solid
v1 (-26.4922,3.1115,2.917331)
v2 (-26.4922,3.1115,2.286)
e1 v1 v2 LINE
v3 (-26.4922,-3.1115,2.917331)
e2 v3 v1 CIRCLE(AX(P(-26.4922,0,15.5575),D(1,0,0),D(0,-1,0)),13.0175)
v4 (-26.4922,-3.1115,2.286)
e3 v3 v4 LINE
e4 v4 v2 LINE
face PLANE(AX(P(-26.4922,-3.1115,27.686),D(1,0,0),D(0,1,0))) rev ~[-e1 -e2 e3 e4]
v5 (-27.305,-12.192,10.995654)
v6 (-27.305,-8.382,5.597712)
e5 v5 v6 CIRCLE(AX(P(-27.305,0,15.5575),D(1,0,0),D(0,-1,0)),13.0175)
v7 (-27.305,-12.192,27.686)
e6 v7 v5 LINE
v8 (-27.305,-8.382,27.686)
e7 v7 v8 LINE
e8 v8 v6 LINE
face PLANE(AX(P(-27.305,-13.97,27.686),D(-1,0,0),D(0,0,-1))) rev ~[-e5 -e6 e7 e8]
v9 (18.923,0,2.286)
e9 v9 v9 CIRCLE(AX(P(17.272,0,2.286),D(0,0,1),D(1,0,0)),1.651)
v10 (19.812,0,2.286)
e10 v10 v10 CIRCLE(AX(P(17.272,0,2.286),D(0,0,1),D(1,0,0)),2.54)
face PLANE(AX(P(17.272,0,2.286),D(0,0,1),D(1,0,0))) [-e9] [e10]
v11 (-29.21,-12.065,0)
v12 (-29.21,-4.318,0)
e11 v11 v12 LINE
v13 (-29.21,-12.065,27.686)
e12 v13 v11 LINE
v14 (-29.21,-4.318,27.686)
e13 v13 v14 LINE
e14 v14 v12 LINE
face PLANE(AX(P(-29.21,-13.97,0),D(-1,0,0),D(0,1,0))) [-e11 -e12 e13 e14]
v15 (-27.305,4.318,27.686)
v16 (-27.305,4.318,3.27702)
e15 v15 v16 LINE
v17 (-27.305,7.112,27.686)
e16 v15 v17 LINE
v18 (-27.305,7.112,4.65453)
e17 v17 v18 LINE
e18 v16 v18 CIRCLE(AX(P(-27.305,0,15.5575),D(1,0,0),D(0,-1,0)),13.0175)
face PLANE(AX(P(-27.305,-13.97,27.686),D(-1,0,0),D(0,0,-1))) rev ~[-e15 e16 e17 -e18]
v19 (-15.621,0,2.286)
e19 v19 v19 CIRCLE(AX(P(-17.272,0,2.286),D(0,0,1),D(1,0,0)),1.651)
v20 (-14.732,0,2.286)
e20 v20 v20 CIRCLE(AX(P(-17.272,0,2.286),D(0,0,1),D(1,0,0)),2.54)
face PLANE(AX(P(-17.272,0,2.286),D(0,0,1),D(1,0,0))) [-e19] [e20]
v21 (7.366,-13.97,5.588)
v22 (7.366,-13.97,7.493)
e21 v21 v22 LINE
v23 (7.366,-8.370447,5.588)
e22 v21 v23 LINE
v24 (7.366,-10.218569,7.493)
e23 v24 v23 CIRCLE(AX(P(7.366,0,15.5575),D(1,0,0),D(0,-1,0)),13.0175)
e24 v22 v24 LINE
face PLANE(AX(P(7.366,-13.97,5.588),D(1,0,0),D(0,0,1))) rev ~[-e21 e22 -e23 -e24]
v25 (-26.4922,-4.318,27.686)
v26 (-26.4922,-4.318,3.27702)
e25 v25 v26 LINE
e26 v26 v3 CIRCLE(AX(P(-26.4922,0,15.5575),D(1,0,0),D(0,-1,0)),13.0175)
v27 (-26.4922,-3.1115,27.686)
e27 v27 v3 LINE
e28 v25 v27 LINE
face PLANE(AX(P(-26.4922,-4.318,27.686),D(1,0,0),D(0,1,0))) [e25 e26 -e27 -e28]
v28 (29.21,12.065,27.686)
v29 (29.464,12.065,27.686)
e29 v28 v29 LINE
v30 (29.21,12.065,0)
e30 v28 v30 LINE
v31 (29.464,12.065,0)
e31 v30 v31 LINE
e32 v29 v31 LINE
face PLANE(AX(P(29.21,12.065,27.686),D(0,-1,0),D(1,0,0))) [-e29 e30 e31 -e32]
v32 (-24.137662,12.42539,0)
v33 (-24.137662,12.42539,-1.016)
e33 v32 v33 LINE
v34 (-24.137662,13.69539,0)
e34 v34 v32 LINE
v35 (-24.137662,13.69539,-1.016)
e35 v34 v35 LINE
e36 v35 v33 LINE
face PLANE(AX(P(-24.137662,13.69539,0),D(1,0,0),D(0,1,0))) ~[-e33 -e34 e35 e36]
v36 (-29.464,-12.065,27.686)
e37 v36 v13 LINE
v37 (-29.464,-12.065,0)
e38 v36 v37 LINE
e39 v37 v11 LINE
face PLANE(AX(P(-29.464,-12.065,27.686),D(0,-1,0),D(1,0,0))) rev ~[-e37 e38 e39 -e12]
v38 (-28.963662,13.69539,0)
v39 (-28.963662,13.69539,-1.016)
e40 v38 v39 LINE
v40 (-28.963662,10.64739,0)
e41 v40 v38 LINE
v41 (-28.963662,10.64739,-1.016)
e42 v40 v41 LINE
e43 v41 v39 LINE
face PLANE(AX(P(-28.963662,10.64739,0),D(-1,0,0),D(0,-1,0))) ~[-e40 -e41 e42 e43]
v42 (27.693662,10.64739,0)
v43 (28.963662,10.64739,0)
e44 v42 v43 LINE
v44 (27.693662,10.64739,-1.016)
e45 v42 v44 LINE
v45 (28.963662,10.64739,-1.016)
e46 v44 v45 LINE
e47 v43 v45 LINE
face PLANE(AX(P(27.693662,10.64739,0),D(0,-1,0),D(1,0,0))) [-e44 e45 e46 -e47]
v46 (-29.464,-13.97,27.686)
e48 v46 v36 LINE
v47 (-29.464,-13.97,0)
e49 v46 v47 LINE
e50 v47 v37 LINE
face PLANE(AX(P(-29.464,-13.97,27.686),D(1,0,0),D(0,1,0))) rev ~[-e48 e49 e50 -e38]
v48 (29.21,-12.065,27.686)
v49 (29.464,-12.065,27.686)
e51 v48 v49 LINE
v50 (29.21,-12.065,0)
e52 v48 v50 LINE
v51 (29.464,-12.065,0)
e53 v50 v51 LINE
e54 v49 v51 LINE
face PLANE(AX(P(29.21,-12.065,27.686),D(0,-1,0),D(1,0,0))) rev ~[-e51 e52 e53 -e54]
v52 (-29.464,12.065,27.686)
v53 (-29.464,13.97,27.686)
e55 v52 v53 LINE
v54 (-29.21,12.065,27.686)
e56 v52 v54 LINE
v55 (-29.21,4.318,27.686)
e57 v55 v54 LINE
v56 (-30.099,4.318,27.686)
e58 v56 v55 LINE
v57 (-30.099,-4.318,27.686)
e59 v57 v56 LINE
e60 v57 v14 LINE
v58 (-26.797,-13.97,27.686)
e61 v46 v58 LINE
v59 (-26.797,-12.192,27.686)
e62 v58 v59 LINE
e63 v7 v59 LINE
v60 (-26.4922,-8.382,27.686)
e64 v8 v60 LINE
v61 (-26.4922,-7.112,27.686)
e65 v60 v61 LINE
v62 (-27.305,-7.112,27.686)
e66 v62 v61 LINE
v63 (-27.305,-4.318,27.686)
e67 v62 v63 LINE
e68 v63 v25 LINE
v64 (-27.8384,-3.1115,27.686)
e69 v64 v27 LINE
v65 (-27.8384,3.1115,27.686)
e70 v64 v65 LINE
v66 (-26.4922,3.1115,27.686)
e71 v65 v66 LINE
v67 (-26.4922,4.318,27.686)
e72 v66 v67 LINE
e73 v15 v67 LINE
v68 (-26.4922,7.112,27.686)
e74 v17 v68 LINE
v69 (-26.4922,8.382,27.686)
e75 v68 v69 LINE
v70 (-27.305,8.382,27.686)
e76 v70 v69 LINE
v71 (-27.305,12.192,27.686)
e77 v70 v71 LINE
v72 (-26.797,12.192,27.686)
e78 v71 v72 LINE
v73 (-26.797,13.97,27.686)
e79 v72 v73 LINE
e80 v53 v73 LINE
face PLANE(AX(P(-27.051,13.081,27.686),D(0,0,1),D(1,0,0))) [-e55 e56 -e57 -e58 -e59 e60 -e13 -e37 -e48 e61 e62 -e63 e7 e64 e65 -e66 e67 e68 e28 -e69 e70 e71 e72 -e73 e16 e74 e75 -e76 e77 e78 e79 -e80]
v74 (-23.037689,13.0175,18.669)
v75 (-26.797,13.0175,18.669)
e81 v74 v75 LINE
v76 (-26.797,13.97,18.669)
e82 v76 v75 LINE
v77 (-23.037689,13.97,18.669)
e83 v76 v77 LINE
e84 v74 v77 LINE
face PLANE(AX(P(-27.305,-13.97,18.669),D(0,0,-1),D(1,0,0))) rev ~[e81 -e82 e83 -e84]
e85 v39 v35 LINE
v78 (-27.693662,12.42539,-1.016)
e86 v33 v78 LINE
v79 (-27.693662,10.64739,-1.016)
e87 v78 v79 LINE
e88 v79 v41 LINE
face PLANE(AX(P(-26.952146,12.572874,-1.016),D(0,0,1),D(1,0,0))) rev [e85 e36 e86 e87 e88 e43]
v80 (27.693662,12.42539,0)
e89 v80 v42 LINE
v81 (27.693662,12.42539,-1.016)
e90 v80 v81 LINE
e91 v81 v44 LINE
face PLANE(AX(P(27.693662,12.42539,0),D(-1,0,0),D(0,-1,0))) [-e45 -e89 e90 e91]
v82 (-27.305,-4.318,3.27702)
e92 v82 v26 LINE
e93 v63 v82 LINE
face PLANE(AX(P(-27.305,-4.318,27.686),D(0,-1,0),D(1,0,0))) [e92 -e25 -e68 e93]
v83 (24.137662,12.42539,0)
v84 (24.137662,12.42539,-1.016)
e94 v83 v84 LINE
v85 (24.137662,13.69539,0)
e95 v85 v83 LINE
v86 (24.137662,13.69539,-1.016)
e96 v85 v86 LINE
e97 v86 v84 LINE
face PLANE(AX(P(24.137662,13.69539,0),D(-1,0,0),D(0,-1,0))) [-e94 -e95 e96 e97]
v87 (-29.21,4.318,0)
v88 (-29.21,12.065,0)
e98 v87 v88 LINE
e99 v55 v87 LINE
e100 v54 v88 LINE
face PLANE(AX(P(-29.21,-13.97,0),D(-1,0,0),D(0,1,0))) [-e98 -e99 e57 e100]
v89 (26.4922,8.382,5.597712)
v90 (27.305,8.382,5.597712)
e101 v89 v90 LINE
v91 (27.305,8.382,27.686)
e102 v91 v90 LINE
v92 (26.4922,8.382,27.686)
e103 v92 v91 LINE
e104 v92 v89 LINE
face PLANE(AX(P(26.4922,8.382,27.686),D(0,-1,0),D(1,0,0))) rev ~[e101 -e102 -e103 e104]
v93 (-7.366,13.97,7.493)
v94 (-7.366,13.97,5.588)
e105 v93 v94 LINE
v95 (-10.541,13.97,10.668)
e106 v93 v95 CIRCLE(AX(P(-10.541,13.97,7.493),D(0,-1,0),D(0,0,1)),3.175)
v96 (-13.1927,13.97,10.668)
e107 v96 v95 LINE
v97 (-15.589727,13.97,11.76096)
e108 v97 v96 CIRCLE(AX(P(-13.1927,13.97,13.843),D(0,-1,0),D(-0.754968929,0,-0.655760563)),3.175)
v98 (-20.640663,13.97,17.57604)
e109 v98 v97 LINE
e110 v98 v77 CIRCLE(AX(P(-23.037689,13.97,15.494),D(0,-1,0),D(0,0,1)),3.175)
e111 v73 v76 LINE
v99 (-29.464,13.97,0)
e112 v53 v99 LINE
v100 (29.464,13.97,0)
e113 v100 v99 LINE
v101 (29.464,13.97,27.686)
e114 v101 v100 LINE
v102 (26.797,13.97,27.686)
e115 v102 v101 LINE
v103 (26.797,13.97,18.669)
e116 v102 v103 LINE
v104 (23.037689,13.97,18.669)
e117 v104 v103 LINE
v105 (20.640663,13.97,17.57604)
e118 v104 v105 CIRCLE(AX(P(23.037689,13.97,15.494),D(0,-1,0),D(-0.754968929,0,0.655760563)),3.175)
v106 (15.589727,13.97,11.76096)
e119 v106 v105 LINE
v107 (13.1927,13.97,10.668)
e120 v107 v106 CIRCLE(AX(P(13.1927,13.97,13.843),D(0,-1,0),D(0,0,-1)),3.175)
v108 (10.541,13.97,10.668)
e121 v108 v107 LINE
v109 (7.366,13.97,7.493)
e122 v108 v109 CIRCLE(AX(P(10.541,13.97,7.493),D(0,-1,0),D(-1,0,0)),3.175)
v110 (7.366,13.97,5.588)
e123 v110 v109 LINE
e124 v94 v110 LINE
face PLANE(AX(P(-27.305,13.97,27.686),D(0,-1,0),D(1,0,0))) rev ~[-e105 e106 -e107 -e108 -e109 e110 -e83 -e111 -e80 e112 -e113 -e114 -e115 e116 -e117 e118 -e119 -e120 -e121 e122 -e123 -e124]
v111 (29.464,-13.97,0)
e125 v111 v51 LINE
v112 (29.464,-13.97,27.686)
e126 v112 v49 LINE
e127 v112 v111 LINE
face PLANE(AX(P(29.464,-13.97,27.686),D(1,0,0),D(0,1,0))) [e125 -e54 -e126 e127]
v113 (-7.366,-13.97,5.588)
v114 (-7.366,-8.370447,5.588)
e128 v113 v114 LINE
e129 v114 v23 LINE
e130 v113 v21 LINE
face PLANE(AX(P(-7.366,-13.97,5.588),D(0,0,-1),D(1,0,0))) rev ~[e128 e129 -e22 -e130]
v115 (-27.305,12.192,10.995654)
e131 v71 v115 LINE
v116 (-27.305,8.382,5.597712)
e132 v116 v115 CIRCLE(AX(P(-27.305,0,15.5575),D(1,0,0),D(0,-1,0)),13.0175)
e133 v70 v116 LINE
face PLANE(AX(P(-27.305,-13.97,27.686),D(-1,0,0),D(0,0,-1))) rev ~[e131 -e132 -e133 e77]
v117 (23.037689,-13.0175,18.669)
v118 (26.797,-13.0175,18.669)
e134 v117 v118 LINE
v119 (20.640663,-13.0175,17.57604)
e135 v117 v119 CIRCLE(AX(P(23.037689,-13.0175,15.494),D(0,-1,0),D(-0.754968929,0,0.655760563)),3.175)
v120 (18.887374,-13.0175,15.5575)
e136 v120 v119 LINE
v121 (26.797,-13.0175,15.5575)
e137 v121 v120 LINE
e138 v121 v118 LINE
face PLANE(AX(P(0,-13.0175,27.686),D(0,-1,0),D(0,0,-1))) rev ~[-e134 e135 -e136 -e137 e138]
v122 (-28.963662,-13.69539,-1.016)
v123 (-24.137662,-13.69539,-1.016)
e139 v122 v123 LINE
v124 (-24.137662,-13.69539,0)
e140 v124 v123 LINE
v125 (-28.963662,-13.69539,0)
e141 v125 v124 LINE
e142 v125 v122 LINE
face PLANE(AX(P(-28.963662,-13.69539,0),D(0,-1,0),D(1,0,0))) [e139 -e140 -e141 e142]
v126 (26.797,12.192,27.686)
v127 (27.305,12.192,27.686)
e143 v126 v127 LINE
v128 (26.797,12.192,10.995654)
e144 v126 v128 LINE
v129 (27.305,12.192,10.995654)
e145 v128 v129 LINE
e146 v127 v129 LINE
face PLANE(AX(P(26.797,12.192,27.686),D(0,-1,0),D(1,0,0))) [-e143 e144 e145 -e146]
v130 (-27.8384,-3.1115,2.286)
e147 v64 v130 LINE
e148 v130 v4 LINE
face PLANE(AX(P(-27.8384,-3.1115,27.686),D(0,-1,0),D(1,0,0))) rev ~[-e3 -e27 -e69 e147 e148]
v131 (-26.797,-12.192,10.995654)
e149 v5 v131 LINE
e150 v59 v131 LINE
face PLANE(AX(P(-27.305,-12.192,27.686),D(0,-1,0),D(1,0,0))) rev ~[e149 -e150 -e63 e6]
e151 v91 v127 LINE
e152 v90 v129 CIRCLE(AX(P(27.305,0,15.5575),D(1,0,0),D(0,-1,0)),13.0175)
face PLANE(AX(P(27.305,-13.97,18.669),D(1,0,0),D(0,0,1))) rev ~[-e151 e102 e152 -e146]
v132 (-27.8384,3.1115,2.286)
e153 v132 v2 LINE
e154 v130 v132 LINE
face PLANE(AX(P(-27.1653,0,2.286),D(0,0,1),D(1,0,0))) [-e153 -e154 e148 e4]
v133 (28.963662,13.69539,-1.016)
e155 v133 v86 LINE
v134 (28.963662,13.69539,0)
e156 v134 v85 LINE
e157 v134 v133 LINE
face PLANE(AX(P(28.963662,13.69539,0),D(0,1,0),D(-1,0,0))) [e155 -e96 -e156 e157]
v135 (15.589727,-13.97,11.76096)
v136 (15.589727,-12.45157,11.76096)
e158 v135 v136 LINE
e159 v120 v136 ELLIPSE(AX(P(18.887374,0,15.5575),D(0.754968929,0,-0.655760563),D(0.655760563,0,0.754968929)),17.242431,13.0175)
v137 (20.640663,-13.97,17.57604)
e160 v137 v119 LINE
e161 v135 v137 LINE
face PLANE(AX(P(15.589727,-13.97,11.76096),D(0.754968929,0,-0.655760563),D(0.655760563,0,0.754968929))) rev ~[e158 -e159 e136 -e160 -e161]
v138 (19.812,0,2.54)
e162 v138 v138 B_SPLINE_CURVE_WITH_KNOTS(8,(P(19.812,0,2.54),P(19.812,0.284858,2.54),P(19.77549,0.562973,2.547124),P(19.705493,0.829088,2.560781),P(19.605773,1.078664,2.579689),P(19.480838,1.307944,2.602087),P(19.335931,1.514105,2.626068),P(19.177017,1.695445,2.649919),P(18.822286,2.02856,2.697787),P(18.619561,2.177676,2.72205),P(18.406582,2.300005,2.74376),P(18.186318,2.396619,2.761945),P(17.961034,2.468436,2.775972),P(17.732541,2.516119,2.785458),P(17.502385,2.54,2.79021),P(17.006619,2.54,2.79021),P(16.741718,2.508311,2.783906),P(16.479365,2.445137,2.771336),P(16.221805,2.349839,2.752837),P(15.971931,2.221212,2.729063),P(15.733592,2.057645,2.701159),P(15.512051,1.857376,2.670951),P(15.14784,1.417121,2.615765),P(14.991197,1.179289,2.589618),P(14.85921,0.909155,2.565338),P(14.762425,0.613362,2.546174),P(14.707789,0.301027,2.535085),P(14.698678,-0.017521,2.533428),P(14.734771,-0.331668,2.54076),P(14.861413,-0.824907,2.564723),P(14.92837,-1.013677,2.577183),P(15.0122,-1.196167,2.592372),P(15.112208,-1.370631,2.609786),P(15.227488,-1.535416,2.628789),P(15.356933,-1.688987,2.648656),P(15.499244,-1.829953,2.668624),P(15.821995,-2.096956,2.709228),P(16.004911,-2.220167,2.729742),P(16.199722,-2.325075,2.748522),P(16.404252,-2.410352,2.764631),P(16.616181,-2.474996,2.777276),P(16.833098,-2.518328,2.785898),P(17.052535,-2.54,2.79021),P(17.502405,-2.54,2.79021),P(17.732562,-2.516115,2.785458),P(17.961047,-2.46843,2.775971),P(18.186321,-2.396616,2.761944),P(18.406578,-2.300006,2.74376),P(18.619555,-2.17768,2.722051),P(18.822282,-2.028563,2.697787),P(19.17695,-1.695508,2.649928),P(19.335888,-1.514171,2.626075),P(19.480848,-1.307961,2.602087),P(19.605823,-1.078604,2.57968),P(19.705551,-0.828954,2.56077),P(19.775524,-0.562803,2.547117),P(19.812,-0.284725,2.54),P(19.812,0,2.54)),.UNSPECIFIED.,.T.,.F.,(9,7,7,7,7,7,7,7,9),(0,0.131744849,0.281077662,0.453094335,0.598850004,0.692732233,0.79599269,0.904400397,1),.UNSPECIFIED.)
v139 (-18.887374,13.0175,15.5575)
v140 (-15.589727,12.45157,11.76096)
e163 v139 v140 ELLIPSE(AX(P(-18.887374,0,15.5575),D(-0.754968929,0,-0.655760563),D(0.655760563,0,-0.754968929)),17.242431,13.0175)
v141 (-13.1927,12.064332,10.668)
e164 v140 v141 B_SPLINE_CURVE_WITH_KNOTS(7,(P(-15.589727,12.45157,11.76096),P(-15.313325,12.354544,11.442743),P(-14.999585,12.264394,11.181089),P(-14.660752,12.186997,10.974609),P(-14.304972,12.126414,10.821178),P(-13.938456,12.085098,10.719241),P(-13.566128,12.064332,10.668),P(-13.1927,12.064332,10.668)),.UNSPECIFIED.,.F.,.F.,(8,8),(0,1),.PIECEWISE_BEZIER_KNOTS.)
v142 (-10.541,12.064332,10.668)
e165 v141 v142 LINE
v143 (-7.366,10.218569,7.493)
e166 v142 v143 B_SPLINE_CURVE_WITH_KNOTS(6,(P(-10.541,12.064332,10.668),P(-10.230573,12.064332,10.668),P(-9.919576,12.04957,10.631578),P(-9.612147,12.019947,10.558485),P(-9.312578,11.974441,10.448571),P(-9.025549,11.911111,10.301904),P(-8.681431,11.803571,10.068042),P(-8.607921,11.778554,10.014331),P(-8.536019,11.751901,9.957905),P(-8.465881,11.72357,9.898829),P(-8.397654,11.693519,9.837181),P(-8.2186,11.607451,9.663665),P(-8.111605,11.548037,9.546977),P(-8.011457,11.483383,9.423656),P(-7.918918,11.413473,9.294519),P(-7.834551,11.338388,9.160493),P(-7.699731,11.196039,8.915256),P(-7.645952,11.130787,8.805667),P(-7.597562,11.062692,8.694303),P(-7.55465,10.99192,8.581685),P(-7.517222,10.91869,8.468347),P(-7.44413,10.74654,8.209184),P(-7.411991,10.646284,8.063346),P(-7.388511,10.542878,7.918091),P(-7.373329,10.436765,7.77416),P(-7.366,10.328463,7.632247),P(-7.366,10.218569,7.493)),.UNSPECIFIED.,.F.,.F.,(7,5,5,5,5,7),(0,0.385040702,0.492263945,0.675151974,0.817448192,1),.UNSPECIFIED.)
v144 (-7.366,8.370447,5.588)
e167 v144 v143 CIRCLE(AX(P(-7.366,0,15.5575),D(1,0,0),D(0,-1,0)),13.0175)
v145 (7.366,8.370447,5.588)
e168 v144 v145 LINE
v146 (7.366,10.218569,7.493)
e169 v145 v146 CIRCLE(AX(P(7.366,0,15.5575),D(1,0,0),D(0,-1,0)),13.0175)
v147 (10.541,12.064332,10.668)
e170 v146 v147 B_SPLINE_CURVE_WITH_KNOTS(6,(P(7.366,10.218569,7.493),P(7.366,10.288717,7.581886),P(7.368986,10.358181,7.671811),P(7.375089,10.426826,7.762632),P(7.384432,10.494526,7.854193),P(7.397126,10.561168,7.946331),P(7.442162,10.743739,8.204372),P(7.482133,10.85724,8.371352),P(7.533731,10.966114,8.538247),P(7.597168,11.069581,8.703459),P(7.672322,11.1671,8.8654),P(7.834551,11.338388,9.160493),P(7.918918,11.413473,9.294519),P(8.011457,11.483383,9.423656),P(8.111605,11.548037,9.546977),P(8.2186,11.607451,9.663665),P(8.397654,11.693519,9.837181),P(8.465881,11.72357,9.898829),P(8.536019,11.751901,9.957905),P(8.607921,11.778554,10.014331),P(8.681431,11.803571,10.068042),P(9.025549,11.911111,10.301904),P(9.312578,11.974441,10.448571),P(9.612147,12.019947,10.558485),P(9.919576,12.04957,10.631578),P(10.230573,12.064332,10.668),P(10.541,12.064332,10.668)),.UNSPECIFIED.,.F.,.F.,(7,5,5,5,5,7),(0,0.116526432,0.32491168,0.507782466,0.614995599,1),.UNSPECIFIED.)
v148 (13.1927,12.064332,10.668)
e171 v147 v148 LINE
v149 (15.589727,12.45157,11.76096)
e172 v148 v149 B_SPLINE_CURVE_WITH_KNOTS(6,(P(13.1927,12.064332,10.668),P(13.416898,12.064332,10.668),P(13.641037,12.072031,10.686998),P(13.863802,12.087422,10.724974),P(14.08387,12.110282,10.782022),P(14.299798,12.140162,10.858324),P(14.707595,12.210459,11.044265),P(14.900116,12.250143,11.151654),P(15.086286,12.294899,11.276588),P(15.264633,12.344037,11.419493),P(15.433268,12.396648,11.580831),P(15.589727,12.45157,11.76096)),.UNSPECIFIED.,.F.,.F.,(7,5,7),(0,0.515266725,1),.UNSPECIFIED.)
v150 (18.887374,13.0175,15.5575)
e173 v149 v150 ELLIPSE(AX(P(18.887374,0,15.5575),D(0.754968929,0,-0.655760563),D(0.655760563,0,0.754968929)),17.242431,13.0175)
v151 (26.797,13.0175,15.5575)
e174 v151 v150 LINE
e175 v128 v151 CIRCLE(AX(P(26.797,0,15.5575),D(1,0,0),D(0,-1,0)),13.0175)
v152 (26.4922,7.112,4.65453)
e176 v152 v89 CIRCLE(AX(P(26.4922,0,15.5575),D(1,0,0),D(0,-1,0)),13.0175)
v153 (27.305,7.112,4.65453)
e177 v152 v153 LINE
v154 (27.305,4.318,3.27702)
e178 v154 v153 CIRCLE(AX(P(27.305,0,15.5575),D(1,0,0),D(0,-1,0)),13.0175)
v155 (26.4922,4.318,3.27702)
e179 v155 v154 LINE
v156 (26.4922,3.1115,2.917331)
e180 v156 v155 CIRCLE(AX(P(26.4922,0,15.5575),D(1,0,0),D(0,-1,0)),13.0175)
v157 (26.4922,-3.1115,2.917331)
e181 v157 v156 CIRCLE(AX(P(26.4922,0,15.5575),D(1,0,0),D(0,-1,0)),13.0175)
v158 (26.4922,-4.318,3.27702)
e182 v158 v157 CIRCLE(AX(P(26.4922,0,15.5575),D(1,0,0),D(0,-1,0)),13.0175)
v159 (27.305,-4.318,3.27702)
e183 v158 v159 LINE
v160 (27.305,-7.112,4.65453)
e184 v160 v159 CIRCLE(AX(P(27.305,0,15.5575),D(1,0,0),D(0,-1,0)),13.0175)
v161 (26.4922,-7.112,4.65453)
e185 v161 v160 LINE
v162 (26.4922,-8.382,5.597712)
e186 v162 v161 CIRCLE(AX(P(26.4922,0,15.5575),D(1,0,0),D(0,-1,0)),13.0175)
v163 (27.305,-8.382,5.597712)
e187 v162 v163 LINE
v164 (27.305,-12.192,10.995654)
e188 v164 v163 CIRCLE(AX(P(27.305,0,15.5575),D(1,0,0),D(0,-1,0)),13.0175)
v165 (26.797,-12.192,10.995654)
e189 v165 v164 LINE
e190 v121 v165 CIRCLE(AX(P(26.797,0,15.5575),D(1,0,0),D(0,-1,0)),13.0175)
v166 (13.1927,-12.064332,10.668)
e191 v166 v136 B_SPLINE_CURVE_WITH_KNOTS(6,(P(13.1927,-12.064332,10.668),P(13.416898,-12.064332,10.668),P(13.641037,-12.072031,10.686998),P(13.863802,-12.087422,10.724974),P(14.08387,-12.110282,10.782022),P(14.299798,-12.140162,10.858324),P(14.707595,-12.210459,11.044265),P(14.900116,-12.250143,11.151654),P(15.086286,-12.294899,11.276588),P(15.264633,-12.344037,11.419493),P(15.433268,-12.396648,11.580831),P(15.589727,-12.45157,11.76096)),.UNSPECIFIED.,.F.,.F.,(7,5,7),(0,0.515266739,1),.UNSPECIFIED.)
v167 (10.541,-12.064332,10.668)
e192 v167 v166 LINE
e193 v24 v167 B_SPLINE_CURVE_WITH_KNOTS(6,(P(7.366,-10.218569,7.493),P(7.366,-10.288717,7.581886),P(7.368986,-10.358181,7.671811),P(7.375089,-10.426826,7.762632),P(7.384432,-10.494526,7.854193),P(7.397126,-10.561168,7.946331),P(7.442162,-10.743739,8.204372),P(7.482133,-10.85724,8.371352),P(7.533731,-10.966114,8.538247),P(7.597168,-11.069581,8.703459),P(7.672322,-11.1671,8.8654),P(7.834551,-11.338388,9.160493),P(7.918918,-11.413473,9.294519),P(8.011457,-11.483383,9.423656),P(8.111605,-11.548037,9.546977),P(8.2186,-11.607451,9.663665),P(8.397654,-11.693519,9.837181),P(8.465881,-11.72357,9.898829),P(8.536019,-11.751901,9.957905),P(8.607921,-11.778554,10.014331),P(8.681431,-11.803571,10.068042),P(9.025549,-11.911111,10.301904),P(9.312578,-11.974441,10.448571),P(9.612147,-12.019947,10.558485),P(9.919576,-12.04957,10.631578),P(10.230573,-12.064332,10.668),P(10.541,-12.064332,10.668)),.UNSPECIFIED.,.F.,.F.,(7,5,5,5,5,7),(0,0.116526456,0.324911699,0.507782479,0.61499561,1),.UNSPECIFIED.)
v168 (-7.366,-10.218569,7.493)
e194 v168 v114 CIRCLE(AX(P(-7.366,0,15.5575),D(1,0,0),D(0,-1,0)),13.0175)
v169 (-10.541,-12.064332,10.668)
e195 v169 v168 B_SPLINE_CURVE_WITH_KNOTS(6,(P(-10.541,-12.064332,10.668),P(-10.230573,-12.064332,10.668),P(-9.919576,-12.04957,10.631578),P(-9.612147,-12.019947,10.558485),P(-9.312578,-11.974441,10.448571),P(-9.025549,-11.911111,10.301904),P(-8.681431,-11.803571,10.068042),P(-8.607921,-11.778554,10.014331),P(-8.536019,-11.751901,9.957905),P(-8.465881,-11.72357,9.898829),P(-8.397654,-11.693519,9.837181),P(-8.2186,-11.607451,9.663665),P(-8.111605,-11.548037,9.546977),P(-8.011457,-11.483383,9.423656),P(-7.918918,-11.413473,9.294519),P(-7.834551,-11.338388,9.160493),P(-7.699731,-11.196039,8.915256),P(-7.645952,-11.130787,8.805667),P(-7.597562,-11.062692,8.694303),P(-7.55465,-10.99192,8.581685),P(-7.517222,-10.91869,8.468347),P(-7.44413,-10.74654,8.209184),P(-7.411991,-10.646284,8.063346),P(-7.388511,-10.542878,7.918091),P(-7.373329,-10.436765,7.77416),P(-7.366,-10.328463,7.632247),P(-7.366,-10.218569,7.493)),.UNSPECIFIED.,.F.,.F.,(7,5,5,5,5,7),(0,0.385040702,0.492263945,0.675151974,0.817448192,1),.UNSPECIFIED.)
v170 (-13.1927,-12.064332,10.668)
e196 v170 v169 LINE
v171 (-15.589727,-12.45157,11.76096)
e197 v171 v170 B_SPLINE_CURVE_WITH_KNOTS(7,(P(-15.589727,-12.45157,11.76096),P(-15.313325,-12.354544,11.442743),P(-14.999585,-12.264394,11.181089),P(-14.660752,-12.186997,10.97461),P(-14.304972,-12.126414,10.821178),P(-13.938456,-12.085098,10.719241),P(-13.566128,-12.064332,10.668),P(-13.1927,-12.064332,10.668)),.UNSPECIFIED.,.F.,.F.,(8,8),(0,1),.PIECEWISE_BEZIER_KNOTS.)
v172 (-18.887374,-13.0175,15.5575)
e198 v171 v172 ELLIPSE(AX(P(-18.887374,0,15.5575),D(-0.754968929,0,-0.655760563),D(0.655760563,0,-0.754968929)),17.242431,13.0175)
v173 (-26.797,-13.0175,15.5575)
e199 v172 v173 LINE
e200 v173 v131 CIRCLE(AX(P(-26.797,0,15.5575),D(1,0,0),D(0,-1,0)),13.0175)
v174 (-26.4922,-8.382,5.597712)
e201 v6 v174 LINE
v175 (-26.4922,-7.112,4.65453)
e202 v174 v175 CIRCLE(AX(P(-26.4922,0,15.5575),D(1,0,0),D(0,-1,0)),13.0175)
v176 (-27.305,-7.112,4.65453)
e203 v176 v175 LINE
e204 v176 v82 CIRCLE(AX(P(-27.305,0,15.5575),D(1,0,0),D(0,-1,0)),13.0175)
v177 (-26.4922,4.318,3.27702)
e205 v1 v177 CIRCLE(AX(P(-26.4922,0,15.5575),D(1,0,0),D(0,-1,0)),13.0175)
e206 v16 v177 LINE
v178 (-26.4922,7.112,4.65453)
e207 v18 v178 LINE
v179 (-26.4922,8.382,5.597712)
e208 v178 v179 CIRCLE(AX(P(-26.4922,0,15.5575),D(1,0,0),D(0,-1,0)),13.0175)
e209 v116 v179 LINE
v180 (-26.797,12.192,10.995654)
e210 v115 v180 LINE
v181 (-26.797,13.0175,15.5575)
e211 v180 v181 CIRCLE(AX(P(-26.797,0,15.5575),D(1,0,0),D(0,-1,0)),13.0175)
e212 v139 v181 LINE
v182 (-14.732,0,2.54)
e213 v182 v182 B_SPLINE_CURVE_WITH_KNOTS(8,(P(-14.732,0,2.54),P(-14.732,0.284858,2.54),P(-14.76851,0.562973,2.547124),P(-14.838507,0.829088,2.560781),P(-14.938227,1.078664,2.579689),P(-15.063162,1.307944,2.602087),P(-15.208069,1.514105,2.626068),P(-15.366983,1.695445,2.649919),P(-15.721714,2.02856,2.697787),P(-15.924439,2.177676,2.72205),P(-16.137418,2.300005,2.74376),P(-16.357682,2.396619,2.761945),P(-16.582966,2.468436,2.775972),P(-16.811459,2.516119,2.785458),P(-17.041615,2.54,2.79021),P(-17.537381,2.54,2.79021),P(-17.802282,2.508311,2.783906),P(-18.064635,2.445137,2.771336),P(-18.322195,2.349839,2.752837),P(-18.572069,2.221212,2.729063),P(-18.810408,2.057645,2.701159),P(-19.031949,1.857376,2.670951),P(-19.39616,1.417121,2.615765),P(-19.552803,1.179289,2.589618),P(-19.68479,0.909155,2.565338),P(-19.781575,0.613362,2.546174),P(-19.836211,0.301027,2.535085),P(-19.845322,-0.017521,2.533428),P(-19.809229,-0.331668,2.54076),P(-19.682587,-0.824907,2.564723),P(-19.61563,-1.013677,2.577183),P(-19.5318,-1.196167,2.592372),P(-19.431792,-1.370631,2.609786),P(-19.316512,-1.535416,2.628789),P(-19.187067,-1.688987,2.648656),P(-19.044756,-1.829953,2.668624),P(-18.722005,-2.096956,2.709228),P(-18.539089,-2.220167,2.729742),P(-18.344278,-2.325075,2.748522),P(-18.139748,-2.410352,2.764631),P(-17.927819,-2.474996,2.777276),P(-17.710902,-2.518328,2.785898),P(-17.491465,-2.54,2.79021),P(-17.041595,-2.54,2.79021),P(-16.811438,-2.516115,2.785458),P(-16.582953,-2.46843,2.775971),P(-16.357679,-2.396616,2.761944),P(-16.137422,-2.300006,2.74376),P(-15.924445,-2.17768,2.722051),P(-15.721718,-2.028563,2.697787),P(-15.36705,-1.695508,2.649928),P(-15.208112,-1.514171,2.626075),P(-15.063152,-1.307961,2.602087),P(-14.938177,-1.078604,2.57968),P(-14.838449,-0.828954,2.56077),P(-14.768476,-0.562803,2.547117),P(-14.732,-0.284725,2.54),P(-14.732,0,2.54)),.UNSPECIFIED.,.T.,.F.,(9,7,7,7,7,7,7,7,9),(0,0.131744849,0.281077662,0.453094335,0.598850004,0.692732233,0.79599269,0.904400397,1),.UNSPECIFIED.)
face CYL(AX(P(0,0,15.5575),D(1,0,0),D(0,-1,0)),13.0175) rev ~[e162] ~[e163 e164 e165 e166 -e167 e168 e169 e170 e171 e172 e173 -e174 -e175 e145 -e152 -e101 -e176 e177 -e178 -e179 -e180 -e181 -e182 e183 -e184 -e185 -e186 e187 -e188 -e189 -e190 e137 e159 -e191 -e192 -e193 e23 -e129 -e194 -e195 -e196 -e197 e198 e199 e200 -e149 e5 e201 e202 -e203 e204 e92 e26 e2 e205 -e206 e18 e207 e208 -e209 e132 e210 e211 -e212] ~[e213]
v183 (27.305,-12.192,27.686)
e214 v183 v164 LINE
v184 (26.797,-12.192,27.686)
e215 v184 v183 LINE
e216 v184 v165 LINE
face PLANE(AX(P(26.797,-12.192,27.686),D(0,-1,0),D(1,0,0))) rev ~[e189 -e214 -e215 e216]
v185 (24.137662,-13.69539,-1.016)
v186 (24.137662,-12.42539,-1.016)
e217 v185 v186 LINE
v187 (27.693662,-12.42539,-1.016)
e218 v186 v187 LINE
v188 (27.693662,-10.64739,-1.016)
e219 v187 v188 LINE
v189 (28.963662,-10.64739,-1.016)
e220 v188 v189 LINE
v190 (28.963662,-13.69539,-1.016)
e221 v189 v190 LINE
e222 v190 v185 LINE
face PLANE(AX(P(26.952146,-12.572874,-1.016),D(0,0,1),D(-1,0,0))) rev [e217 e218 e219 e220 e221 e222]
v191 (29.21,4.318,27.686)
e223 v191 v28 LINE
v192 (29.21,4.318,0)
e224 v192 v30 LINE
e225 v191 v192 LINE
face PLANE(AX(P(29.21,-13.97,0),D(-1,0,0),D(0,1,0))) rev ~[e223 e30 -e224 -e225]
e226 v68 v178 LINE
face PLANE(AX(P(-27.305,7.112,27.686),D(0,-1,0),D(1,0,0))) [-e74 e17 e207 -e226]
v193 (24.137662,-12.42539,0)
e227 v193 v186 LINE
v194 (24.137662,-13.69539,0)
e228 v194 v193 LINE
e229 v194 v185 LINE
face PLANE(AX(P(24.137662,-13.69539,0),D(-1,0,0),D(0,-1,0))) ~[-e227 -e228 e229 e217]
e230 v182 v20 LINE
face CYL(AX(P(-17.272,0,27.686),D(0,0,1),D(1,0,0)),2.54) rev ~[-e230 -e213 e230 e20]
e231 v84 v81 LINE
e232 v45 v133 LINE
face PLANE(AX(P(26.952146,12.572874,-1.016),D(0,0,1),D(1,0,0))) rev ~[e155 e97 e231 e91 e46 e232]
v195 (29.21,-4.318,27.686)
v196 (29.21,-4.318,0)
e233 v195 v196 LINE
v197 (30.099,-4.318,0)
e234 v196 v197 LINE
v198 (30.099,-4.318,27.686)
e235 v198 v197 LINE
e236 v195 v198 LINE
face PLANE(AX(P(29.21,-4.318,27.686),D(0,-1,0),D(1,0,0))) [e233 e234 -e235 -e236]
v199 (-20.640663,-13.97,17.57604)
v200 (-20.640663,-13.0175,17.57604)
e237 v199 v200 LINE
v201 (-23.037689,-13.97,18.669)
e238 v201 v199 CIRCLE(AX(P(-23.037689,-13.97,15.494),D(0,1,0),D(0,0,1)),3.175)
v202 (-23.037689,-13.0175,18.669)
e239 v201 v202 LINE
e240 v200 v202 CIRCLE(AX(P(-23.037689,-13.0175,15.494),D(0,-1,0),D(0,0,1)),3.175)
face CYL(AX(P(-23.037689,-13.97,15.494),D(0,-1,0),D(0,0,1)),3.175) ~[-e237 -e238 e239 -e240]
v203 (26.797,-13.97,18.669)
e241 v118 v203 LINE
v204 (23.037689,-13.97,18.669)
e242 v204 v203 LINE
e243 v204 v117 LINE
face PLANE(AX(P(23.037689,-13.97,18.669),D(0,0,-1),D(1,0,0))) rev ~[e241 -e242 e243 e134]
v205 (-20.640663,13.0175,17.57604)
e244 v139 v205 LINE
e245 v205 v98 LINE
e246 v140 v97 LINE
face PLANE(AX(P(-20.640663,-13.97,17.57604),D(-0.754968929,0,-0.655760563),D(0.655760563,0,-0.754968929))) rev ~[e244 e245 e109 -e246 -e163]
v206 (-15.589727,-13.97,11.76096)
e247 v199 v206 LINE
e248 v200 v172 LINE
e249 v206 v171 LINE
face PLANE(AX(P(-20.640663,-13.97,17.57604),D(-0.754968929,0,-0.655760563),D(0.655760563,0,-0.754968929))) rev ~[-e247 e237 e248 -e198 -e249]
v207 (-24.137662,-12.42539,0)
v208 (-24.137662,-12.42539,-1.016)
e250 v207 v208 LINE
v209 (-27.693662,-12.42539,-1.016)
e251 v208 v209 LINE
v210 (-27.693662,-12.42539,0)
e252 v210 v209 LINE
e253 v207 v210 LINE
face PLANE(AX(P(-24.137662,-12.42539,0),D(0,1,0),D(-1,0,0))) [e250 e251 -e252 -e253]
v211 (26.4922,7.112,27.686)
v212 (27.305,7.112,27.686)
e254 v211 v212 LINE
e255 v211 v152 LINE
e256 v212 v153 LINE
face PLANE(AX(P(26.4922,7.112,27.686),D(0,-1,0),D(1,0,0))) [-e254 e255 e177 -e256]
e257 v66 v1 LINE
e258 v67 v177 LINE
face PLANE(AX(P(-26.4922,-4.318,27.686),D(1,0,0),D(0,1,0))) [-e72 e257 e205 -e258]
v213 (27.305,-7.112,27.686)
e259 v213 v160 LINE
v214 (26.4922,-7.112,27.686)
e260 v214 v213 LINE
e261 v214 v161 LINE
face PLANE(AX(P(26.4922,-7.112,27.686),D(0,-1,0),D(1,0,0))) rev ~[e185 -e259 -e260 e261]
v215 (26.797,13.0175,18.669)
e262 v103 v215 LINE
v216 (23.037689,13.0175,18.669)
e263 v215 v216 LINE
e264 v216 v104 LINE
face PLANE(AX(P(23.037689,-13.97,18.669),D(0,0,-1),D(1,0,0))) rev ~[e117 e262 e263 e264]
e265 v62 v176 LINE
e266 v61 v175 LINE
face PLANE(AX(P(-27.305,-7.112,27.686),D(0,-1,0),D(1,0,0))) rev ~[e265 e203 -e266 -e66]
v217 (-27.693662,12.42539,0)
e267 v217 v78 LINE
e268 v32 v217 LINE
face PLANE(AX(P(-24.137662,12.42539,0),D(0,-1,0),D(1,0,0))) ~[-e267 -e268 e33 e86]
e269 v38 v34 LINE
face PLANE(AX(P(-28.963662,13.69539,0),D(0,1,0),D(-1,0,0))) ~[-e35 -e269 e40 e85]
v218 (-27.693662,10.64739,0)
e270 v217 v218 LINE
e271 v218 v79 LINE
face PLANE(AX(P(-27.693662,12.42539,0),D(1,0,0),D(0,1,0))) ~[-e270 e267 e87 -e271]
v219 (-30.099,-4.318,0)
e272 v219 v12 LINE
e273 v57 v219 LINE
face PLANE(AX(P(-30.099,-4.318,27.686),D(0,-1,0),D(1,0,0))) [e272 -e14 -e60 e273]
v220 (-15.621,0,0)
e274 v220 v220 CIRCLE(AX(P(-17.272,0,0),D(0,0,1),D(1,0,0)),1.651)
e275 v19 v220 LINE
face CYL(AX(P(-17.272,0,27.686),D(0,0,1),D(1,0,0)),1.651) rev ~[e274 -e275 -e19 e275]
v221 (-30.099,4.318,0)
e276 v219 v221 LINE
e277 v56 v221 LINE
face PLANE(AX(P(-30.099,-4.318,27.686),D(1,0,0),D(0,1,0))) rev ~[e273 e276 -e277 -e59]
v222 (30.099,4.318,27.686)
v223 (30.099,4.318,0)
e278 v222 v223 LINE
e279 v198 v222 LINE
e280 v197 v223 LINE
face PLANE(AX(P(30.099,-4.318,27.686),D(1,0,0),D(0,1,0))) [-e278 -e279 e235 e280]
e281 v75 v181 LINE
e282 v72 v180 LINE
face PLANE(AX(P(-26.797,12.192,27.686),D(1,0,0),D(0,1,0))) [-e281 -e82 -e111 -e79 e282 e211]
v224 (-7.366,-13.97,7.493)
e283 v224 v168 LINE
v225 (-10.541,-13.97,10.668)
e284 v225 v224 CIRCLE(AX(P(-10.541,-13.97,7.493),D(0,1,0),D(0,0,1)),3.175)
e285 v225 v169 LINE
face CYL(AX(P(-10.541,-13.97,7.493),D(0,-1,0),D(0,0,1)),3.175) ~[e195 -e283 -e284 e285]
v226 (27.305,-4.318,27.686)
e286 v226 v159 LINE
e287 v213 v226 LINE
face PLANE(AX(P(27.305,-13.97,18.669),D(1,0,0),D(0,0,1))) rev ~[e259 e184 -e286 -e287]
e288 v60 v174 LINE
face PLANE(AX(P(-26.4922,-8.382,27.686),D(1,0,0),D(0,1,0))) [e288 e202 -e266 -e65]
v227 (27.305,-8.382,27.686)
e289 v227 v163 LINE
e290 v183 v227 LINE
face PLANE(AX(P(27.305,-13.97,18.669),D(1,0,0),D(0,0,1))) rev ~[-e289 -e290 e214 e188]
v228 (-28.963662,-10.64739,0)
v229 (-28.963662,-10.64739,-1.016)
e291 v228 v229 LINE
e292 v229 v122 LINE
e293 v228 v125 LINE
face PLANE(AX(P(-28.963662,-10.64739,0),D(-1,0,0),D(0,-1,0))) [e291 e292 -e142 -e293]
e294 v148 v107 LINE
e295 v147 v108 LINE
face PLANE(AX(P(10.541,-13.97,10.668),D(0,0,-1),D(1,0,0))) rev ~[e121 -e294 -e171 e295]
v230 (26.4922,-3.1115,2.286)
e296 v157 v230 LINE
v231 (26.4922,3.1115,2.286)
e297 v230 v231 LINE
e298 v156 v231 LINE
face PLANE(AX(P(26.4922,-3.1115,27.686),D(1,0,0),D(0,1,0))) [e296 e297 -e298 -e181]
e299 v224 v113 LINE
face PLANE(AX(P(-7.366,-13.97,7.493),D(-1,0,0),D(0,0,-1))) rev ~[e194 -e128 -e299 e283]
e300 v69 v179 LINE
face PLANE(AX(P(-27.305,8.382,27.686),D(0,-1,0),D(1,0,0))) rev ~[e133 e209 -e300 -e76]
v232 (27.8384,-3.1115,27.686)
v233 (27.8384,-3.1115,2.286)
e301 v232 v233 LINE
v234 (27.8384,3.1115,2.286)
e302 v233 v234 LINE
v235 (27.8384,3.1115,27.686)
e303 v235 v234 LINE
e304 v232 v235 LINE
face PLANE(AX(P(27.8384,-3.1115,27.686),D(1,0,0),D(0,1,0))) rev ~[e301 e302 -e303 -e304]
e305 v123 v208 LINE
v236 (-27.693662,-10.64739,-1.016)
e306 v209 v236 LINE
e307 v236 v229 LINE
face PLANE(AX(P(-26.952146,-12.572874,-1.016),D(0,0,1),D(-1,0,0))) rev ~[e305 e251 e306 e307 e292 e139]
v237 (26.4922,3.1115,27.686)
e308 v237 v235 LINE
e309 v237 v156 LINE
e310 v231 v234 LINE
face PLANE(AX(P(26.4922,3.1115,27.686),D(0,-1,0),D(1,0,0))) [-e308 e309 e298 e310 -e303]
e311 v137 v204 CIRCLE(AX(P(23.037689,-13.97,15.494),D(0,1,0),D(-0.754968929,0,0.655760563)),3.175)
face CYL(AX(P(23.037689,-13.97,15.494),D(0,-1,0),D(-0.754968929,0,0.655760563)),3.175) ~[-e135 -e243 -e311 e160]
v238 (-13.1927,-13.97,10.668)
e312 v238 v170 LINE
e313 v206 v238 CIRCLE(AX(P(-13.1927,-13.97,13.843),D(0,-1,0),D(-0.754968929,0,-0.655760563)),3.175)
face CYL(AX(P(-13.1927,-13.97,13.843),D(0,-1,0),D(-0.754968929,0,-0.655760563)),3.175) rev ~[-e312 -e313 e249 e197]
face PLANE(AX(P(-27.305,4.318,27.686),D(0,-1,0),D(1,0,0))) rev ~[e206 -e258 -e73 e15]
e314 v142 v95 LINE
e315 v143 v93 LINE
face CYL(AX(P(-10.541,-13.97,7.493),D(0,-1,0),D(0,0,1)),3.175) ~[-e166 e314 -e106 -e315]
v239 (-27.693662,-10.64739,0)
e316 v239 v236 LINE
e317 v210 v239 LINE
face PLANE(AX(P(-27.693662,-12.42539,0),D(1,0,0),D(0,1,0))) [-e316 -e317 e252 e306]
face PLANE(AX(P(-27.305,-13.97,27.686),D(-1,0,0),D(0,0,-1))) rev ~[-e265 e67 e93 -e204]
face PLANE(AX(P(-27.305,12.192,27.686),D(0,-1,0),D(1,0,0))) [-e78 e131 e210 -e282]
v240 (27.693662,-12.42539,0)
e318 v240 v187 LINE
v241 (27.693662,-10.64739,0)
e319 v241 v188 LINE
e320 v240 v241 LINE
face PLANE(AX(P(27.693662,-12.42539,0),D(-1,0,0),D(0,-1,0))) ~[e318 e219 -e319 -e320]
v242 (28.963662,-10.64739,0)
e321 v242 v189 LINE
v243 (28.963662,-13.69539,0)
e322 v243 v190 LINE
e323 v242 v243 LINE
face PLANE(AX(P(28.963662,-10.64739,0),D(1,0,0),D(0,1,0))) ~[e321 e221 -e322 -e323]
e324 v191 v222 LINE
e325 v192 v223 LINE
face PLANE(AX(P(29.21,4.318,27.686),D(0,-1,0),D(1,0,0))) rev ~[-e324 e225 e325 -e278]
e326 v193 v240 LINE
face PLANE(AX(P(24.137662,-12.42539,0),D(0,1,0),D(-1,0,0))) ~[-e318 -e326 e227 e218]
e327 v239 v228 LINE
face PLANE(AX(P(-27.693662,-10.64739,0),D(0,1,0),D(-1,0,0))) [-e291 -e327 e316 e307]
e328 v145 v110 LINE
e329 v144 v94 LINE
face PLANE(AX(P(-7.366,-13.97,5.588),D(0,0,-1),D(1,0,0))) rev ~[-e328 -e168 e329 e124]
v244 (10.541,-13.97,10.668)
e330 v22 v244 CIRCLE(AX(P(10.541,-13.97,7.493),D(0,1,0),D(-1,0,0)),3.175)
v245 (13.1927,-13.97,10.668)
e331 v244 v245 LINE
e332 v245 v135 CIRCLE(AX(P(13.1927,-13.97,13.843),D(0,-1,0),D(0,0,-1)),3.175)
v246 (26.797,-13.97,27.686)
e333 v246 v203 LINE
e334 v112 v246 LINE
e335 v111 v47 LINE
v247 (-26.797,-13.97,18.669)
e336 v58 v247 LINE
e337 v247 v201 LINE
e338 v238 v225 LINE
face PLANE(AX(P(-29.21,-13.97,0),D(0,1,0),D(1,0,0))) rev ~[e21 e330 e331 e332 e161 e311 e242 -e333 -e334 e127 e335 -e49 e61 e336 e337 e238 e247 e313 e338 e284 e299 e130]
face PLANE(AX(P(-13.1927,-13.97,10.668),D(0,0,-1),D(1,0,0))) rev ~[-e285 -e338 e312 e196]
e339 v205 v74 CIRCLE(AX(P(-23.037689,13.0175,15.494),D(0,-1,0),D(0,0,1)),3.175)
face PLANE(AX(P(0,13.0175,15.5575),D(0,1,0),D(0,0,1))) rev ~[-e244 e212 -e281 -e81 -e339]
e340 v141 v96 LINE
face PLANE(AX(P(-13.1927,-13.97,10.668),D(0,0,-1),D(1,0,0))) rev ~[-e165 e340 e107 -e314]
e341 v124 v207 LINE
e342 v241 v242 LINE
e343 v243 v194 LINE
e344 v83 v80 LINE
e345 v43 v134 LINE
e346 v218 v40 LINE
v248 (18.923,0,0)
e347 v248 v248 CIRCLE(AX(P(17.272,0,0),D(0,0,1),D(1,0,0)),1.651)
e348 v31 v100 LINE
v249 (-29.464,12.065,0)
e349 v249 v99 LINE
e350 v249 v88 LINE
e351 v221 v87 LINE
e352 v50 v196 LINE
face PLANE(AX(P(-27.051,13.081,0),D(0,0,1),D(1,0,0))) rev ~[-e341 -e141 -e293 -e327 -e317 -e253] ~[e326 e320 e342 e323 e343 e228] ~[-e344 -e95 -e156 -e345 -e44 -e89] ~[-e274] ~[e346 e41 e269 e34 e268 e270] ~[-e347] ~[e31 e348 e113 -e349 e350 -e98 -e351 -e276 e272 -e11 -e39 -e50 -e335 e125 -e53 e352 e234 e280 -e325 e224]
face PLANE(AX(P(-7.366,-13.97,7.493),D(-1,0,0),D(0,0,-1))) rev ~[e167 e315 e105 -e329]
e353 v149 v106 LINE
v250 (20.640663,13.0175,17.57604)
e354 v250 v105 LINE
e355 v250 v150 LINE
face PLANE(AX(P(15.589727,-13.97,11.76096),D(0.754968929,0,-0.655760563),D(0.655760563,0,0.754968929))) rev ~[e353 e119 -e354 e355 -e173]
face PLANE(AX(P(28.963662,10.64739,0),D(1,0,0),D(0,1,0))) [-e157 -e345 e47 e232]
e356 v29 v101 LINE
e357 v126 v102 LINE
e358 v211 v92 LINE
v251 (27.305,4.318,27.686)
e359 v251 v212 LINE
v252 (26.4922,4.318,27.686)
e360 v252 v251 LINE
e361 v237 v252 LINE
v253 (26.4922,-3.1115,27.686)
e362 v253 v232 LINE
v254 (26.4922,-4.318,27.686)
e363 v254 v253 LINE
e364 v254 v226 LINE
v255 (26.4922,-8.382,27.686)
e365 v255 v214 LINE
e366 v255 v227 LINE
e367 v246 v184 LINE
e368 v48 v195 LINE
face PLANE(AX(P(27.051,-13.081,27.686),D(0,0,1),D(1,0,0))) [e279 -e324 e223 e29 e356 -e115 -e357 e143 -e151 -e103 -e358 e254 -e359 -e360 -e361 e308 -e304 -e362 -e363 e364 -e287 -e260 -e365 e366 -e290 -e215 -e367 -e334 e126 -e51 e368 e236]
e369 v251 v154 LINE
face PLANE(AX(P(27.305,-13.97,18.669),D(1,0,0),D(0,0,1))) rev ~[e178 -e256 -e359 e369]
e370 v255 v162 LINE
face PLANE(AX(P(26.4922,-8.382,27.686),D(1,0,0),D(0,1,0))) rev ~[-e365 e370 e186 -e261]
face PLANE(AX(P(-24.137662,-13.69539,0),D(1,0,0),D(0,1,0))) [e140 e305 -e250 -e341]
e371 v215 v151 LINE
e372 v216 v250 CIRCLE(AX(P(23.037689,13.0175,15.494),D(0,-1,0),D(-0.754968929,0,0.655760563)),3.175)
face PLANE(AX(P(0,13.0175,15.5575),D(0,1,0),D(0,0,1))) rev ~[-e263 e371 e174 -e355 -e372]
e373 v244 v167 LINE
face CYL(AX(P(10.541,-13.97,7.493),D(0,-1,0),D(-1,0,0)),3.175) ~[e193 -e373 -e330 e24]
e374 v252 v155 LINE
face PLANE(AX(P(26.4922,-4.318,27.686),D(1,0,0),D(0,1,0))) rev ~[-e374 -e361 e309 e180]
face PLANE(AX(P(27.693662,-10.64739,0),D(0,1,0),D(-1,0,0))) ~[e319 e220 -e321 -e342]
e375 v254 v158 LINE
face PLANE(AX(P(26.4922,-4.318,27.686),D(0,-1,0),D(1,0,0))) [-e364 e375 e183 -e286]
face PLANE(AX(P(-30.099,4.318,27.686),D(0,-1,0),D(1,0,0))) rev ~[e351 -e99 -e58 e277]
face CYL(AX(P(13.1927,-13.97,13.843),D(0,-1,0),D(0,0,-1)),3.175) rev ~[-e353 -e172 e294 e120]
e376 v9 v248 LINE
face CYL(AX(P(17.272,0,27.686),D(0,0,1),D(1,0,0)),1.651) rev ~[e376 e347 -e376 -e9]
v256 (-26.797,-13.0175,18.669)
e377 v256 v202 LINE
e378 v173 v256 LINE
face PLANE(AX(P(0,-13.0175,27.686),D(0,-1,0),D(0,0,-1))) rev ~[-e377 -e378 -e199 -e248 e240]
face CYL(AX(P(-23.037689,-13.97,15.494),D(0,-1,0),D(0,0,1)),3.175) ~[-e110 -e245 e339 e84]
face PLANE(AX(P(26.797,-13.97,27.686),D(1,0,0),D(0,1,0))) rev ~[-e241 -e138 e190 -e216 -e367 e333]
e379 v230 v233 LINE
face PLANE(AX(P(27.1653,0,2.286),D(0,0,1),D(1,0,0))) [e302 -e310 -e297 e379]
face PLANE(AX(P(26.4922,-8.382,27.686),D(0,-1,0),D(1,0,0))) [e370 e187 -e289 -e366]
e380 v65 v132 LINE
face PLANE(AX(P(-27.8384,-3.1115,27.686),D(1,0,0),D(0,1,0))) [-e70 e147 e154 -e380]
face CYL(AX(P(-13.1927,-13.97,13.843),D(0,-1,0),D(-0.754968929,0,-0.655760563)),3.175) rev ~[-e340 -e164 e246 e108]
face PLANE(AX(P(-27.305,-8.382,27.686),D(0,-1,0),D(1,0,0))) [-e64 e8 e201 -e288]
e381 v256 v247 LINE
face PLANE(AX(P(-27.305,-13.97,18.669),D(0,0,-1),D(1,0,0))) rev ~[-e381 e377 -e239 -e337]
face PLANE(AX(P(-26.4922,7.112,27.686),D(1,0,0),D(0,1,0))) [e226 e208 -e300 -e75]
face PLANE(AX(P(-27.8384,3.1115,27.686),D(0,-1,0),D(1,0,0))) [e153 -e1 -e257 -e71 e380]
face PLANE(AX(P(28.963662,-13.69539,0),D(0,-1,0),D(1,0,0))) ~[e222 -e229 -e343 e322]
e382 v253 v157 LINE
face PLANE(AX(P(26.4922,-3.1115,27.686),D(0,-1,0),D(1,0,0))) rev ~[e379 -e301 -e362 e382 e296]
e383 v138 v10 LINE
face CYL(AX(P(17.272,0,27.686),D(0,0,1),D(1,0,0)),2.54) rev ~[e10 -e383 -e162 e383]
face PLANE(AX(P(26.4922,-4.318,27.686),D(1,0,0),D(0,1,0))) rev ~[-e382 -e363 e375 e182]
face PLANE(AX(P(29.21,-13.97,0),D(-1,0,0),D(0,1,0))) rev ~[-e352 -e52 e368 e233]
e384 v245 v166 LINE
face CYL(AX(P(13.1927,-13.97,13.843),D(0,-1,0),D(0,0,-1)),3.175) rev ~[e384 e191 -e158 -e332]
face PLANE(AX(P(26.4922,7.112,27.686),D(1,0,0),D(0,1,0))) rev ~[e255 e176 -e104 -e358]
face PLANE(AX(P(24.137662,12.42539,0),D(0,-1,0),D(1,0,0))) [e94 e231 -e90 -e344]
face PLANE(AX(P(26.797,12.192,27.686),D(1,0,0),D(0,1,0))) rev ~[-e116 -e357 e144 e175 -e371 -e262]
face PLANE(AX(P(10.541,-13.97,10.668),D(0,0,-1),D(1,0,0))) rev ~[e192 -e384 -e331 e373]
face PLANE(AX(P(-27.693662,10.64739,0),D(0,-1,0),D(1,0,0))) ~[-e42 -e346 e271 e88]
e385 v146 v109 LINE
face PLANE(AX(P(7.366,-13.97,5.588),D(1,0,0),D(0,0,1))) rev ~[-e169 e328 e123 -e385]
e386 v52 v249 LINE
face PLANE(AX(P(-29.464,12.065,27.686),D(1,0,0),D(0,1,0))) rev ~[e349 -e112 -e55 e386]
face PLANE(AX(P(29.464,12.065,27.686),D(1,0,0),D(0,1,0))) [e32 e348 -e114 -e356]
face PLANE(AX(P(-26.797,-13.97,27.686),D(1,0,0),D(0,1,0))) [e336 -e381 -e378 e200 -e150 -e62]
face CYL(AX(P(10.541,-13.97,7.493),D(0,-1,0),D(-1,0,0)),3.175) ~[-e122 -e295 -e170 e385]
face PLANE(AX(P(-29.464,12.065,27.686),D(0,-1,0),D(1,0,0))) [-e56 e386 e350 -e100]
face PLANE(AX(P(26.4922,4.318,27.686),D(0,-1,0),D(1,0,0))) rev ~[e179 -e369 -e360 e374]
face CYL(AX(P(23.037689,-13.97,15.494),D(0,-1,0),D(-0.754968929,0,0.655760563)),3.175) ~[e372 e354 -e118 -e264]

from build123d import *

# Parameters (mm, degrees)
SKETCH1_W            = 58.42
SKETCH1_H            = 27.94
BOSS_EXTRUDE1_DEPTH  = 27.686
SKETCH2_W            = 0.889
SKETCH2_H            = 8.636
SKETCH2_W_2          = 0.254
SKETCH2_H_2          = 1.905
BOSS_EXTRUDE3_DEPTH  = 27.686
CUT_EXTRUDE1_DEPTH   = 27.305
CUT_EXTRUDE3_DEPTH   = 50.528860243
SKETCH6_W            = 0.508
SKETCH6_H            = 1.778
SKETCH6_W_2          = 0.8128
SKETCH6_H_2          = 1.27
SKETCH6_H_3          = 8.636
BOSS_EXTRUDE4_DEPTH  = 27.686
SKETCH7_W            = 1.3462
SKETCH7_H            = 6.223
CUT_EXTRUDE4_DEPTH   = 25.4
SKETCH8_R            = 1.651
CUT_EXTRUDE5_DEPTH   = 44.216030588
SKETCH9_R            = 2.54
CUT_EXTRUDE6_DEPTH   = 25.4
BOSS_EXTRUDE5_DEPTH  = 1.016
MIRROR3_COPY_1_DEPTH = 1.016


with BuildPart() as part:
    # Sketch1 → Boss-Extrude1 (new body)
    with BuildSketch(Plane.XY):
        Rectangle(SKETCH1_W, SKETCH1_H)
    extrude(amount=BOSS_EXTRUDE1_DEPTH)

    # Sketch2 → Boss-Extrude3 (add)
    with BuildSketch(Plane.XY.offset(27.686)):
        with Locations((-29.6545, 0)):
            Rectangle(SKETCH2_W, SKETCH2_H)
        with Locations((-29.337, 13.0175)):
            Rectangle(SKETCH2_W_2, SKETCH2_H_2)
        with Locations((-29.337, -13.0175)):
            Rectangle(SKETCH2_W_2, SKETCH2_H_2)
        with Locations((29.337, -13.0175)):
            Rectangle(SKETCH2_W_2, SKETCH2_H_2)
        with Locations((29.337, 13.0175)):
            Rectangle(SKETCH2_W_2, SKETCH2_H_2)
        with Locations((29.6545, 0)):
            Rectangle(SKETCH2_W, SKETCH2_H)
    extrude(amount=-BOSS_EXTRUDE3_DEPTH)

    # Sketch4 → Cut-Extrude1 (cut, symmetric)
    with BuildSketch(Plane(origin=(0, 0, 0), x_dir=(0, 0, -1), z_dir=(1, 0, 0))):
        with BuildLine():
            Line((-15.5575, 13.0175), (-27.686, 13.0175))
            Line((-27.686, 13.0175), (-27.686, -13.0175))
            Line((-27.686, -13.0175), (-15.5575, -13.0175))
            ThreePointArc((-15.5575, -13.0175), (-2.54, 0), (-15.5575, 13.0175))
        make_face()
    extrude(amount=CUT_EXTRUDE1_DEPTH, both=True, mode=Mode.SUBTRACT)

    # Sketch5 → Cut-Extrude3 (cut, through all)
    with BuildSketch(Plane.XZ.offset(13.97)):
        with BuildLine():
            Line((-27.305, 27.686), (-27.305, 18.669))
            Line((-27.305, 18.669), (-23.037688998, 18.669))
            ThreePointArc((-23.037688998, 18.669), (-21.720466793, 18.382866674), (-20.640662648, 17.576039787))
            Line((-20.640662648, 17.576039787), (-15.589726503, 11.760960213))
            ThreePointArc((-15.589726503, 11.760960213), (-14.509922358, 10.954133326), (-13.192700152, 10.668))
            Line((-13.192700152, 10.668), (-10.541, 10.668))
            ThreePointArc((-10.541, 10.668), (-8.29593597, 9.73806403), (-7.366, 7.493))
            Line((-7.366, 7.493), (-7.366, 5.588))
            Line((-7.366, 5.588), (7.366, 5.588))
            Line((7.366, 5.588), (7.366, 7.493))
            ThreePointArc((7.366, 7.493), (8.29593597, 9.73806403), (10.541, 10.668))
            Line((10.541, 10.668), (13.192700152, 10.668))
            ThreePointArc((13.192700152, 10.668), (14.509922358, 10.954133326), (15.589726503, 11.760960213))
            Line((15.589726503, 11.760960213), (20.640662648, 17.576039787))
            ThreePointArc((20.640662648, 17.576039787), (21.720466793, 18.382866674), (23.037688998, 18.669))
            Line((23.037688998, 18.669), (27.305, 18.669))
            Line((27.305, 18.669), (27.305, 27.686))
            Line((27.305, 27.686), (-27.305, 27.686))
        make_face()
    extrude(amount=-CUT_EXTRUDE3_DEPTH, mode=Mode.SUBTRACT)

    # Sketch6 → Boss-Extrude4 (add)
    with BuildSketch(Plane.XY.offset(27.686)):
        with Locations((-27.051, 13.081)):
            Rectangle(SKETCH6_W, SKETCH6_H)
        with Locations((-26.8986, 7.747)):
            Rectangle(SKETCH6_W_2, SKETCH6_H_2)
        with Locations((-26.8986, 0)):
            Rectangle(SKETCH6_W_2, SKETCH6_H_3)
        with Locations((-26.8986, -7.747)):
            Rectangle(SKETCH6_W_2, SKETCH6_H_2)
        with Locations((-27.051, -13.081)):
            Rectangle(SKETCH6_W, SKETCH6_H)
        with Locations((27.051, -13.081)):
            Rectangle(SKETCH6_W, SKETCH6_H)
        with Locations((26.8986, -7.747)):
            Rectangle(SKETCH6_W_2, SKETCH6_H_2)
        with Locations((26.8986, 0)):
            Rectangle(SKETCH6_W_2, SKETCH6_H_3)
        with Locations((26.8986, 7.747)):
            Rectangle(SKETCH6_W_2, SKETCH6_H_2)
        with Locations((27.051, 13.081)):
            Rectangle(SKETCH6_W, SKETCH6_H)
    extrude(amount=-BOSS_EXTRUDE4_DEPTH)

    # Sketch7 → Cut-Extrude4 (cut)
    with BuildSketch(Plane.XY.offset(27.686)):
        with Locations((-27.1653, 0)):
            Rectangle(SKETCH7_W, SKETCH7_H)
        with Locations((27.1653, 0)):
            Rectangle(SKETCH7_W, SKETCH7_H)
    extrude(amount=-CUT_EXTRUDE4_DEPTH, mode=Mode.SUBTRACT)

    # Sketch8 → Cut-Extrude5 (cut, through all)
    with BuildSketch(Plane.XY.offset(27.686)):
        with Locations((-17.272, 0)):
            Circle(SKETCH8_R)
        with Locations((17.272, 0)):
            Circle(SKETCH8_R)
    extrude(amount=-CUT_EXTRUDE5_DEPTH, mode=Mode.SUBTRACT)

    # Sketch9 → Cut-Extrude6 (cut)
    with BuildSketch(Plane.XY.offset(27.686)):
        with Locations((-17.272, 0)):
            Circle(SKETCH9_R)
        with Locations((17.272, 0)):
            Circle(SKETCH9_R)
    extrude(amount=-CUT_EXTRUDE6_DEPTH, mode=Mode.SUBTRACT)

    # Sketch10 → Boss-Extrude5 (add)
    with BuildSketch(Plane(origin=(0, 0, 0), x_dir=(-1, 0, 0), z_dir=(0, 0, -1))):
        Polygon((-28.963662415, 10.647390084), (-28.963662415, 13.695390084), (-24.137662415, 13.695390084), (-24.137662415, 12.425390084), (-27.693662415, 12.425390084), (-27.693662415, 10.647390084), align=None)
    boss_extrude5 = extrude(amount=BOSS_EXTRUDE5_DEPTH)

    # Mirror2: Boss-Extrude5 across plane
    add(boss_extrude5.mirror(Plane.ZX))

    # Mirror3: Boss-Extrude5 across plane
    add(boss_extrude5.mirror(Plane(origin=(0, 0, 0), x_dir=(0, 0, 1), z_dir=(1, 0, 0))))

    # Mirror3 copy 1 sketch → Mirror3 copy 1 (add)
    with BuildSketch(Plane(origin=(0, 0, 0), x_dir=(1, 0, 0), z_dir=(0, 0, -1))):
        Polygon((-28.963662415, 10.647390084), (-28.963662415, 13.695390084), (-24.137662415, 13.695390084), (-24.137662415, 12.425390084), (-27.693662415, 12.425390084), (-27.693662415, 10.647390084), align=None)
    extrude(amount=MIRROR3_COPY_1_DEPTH)


solid = part.part
